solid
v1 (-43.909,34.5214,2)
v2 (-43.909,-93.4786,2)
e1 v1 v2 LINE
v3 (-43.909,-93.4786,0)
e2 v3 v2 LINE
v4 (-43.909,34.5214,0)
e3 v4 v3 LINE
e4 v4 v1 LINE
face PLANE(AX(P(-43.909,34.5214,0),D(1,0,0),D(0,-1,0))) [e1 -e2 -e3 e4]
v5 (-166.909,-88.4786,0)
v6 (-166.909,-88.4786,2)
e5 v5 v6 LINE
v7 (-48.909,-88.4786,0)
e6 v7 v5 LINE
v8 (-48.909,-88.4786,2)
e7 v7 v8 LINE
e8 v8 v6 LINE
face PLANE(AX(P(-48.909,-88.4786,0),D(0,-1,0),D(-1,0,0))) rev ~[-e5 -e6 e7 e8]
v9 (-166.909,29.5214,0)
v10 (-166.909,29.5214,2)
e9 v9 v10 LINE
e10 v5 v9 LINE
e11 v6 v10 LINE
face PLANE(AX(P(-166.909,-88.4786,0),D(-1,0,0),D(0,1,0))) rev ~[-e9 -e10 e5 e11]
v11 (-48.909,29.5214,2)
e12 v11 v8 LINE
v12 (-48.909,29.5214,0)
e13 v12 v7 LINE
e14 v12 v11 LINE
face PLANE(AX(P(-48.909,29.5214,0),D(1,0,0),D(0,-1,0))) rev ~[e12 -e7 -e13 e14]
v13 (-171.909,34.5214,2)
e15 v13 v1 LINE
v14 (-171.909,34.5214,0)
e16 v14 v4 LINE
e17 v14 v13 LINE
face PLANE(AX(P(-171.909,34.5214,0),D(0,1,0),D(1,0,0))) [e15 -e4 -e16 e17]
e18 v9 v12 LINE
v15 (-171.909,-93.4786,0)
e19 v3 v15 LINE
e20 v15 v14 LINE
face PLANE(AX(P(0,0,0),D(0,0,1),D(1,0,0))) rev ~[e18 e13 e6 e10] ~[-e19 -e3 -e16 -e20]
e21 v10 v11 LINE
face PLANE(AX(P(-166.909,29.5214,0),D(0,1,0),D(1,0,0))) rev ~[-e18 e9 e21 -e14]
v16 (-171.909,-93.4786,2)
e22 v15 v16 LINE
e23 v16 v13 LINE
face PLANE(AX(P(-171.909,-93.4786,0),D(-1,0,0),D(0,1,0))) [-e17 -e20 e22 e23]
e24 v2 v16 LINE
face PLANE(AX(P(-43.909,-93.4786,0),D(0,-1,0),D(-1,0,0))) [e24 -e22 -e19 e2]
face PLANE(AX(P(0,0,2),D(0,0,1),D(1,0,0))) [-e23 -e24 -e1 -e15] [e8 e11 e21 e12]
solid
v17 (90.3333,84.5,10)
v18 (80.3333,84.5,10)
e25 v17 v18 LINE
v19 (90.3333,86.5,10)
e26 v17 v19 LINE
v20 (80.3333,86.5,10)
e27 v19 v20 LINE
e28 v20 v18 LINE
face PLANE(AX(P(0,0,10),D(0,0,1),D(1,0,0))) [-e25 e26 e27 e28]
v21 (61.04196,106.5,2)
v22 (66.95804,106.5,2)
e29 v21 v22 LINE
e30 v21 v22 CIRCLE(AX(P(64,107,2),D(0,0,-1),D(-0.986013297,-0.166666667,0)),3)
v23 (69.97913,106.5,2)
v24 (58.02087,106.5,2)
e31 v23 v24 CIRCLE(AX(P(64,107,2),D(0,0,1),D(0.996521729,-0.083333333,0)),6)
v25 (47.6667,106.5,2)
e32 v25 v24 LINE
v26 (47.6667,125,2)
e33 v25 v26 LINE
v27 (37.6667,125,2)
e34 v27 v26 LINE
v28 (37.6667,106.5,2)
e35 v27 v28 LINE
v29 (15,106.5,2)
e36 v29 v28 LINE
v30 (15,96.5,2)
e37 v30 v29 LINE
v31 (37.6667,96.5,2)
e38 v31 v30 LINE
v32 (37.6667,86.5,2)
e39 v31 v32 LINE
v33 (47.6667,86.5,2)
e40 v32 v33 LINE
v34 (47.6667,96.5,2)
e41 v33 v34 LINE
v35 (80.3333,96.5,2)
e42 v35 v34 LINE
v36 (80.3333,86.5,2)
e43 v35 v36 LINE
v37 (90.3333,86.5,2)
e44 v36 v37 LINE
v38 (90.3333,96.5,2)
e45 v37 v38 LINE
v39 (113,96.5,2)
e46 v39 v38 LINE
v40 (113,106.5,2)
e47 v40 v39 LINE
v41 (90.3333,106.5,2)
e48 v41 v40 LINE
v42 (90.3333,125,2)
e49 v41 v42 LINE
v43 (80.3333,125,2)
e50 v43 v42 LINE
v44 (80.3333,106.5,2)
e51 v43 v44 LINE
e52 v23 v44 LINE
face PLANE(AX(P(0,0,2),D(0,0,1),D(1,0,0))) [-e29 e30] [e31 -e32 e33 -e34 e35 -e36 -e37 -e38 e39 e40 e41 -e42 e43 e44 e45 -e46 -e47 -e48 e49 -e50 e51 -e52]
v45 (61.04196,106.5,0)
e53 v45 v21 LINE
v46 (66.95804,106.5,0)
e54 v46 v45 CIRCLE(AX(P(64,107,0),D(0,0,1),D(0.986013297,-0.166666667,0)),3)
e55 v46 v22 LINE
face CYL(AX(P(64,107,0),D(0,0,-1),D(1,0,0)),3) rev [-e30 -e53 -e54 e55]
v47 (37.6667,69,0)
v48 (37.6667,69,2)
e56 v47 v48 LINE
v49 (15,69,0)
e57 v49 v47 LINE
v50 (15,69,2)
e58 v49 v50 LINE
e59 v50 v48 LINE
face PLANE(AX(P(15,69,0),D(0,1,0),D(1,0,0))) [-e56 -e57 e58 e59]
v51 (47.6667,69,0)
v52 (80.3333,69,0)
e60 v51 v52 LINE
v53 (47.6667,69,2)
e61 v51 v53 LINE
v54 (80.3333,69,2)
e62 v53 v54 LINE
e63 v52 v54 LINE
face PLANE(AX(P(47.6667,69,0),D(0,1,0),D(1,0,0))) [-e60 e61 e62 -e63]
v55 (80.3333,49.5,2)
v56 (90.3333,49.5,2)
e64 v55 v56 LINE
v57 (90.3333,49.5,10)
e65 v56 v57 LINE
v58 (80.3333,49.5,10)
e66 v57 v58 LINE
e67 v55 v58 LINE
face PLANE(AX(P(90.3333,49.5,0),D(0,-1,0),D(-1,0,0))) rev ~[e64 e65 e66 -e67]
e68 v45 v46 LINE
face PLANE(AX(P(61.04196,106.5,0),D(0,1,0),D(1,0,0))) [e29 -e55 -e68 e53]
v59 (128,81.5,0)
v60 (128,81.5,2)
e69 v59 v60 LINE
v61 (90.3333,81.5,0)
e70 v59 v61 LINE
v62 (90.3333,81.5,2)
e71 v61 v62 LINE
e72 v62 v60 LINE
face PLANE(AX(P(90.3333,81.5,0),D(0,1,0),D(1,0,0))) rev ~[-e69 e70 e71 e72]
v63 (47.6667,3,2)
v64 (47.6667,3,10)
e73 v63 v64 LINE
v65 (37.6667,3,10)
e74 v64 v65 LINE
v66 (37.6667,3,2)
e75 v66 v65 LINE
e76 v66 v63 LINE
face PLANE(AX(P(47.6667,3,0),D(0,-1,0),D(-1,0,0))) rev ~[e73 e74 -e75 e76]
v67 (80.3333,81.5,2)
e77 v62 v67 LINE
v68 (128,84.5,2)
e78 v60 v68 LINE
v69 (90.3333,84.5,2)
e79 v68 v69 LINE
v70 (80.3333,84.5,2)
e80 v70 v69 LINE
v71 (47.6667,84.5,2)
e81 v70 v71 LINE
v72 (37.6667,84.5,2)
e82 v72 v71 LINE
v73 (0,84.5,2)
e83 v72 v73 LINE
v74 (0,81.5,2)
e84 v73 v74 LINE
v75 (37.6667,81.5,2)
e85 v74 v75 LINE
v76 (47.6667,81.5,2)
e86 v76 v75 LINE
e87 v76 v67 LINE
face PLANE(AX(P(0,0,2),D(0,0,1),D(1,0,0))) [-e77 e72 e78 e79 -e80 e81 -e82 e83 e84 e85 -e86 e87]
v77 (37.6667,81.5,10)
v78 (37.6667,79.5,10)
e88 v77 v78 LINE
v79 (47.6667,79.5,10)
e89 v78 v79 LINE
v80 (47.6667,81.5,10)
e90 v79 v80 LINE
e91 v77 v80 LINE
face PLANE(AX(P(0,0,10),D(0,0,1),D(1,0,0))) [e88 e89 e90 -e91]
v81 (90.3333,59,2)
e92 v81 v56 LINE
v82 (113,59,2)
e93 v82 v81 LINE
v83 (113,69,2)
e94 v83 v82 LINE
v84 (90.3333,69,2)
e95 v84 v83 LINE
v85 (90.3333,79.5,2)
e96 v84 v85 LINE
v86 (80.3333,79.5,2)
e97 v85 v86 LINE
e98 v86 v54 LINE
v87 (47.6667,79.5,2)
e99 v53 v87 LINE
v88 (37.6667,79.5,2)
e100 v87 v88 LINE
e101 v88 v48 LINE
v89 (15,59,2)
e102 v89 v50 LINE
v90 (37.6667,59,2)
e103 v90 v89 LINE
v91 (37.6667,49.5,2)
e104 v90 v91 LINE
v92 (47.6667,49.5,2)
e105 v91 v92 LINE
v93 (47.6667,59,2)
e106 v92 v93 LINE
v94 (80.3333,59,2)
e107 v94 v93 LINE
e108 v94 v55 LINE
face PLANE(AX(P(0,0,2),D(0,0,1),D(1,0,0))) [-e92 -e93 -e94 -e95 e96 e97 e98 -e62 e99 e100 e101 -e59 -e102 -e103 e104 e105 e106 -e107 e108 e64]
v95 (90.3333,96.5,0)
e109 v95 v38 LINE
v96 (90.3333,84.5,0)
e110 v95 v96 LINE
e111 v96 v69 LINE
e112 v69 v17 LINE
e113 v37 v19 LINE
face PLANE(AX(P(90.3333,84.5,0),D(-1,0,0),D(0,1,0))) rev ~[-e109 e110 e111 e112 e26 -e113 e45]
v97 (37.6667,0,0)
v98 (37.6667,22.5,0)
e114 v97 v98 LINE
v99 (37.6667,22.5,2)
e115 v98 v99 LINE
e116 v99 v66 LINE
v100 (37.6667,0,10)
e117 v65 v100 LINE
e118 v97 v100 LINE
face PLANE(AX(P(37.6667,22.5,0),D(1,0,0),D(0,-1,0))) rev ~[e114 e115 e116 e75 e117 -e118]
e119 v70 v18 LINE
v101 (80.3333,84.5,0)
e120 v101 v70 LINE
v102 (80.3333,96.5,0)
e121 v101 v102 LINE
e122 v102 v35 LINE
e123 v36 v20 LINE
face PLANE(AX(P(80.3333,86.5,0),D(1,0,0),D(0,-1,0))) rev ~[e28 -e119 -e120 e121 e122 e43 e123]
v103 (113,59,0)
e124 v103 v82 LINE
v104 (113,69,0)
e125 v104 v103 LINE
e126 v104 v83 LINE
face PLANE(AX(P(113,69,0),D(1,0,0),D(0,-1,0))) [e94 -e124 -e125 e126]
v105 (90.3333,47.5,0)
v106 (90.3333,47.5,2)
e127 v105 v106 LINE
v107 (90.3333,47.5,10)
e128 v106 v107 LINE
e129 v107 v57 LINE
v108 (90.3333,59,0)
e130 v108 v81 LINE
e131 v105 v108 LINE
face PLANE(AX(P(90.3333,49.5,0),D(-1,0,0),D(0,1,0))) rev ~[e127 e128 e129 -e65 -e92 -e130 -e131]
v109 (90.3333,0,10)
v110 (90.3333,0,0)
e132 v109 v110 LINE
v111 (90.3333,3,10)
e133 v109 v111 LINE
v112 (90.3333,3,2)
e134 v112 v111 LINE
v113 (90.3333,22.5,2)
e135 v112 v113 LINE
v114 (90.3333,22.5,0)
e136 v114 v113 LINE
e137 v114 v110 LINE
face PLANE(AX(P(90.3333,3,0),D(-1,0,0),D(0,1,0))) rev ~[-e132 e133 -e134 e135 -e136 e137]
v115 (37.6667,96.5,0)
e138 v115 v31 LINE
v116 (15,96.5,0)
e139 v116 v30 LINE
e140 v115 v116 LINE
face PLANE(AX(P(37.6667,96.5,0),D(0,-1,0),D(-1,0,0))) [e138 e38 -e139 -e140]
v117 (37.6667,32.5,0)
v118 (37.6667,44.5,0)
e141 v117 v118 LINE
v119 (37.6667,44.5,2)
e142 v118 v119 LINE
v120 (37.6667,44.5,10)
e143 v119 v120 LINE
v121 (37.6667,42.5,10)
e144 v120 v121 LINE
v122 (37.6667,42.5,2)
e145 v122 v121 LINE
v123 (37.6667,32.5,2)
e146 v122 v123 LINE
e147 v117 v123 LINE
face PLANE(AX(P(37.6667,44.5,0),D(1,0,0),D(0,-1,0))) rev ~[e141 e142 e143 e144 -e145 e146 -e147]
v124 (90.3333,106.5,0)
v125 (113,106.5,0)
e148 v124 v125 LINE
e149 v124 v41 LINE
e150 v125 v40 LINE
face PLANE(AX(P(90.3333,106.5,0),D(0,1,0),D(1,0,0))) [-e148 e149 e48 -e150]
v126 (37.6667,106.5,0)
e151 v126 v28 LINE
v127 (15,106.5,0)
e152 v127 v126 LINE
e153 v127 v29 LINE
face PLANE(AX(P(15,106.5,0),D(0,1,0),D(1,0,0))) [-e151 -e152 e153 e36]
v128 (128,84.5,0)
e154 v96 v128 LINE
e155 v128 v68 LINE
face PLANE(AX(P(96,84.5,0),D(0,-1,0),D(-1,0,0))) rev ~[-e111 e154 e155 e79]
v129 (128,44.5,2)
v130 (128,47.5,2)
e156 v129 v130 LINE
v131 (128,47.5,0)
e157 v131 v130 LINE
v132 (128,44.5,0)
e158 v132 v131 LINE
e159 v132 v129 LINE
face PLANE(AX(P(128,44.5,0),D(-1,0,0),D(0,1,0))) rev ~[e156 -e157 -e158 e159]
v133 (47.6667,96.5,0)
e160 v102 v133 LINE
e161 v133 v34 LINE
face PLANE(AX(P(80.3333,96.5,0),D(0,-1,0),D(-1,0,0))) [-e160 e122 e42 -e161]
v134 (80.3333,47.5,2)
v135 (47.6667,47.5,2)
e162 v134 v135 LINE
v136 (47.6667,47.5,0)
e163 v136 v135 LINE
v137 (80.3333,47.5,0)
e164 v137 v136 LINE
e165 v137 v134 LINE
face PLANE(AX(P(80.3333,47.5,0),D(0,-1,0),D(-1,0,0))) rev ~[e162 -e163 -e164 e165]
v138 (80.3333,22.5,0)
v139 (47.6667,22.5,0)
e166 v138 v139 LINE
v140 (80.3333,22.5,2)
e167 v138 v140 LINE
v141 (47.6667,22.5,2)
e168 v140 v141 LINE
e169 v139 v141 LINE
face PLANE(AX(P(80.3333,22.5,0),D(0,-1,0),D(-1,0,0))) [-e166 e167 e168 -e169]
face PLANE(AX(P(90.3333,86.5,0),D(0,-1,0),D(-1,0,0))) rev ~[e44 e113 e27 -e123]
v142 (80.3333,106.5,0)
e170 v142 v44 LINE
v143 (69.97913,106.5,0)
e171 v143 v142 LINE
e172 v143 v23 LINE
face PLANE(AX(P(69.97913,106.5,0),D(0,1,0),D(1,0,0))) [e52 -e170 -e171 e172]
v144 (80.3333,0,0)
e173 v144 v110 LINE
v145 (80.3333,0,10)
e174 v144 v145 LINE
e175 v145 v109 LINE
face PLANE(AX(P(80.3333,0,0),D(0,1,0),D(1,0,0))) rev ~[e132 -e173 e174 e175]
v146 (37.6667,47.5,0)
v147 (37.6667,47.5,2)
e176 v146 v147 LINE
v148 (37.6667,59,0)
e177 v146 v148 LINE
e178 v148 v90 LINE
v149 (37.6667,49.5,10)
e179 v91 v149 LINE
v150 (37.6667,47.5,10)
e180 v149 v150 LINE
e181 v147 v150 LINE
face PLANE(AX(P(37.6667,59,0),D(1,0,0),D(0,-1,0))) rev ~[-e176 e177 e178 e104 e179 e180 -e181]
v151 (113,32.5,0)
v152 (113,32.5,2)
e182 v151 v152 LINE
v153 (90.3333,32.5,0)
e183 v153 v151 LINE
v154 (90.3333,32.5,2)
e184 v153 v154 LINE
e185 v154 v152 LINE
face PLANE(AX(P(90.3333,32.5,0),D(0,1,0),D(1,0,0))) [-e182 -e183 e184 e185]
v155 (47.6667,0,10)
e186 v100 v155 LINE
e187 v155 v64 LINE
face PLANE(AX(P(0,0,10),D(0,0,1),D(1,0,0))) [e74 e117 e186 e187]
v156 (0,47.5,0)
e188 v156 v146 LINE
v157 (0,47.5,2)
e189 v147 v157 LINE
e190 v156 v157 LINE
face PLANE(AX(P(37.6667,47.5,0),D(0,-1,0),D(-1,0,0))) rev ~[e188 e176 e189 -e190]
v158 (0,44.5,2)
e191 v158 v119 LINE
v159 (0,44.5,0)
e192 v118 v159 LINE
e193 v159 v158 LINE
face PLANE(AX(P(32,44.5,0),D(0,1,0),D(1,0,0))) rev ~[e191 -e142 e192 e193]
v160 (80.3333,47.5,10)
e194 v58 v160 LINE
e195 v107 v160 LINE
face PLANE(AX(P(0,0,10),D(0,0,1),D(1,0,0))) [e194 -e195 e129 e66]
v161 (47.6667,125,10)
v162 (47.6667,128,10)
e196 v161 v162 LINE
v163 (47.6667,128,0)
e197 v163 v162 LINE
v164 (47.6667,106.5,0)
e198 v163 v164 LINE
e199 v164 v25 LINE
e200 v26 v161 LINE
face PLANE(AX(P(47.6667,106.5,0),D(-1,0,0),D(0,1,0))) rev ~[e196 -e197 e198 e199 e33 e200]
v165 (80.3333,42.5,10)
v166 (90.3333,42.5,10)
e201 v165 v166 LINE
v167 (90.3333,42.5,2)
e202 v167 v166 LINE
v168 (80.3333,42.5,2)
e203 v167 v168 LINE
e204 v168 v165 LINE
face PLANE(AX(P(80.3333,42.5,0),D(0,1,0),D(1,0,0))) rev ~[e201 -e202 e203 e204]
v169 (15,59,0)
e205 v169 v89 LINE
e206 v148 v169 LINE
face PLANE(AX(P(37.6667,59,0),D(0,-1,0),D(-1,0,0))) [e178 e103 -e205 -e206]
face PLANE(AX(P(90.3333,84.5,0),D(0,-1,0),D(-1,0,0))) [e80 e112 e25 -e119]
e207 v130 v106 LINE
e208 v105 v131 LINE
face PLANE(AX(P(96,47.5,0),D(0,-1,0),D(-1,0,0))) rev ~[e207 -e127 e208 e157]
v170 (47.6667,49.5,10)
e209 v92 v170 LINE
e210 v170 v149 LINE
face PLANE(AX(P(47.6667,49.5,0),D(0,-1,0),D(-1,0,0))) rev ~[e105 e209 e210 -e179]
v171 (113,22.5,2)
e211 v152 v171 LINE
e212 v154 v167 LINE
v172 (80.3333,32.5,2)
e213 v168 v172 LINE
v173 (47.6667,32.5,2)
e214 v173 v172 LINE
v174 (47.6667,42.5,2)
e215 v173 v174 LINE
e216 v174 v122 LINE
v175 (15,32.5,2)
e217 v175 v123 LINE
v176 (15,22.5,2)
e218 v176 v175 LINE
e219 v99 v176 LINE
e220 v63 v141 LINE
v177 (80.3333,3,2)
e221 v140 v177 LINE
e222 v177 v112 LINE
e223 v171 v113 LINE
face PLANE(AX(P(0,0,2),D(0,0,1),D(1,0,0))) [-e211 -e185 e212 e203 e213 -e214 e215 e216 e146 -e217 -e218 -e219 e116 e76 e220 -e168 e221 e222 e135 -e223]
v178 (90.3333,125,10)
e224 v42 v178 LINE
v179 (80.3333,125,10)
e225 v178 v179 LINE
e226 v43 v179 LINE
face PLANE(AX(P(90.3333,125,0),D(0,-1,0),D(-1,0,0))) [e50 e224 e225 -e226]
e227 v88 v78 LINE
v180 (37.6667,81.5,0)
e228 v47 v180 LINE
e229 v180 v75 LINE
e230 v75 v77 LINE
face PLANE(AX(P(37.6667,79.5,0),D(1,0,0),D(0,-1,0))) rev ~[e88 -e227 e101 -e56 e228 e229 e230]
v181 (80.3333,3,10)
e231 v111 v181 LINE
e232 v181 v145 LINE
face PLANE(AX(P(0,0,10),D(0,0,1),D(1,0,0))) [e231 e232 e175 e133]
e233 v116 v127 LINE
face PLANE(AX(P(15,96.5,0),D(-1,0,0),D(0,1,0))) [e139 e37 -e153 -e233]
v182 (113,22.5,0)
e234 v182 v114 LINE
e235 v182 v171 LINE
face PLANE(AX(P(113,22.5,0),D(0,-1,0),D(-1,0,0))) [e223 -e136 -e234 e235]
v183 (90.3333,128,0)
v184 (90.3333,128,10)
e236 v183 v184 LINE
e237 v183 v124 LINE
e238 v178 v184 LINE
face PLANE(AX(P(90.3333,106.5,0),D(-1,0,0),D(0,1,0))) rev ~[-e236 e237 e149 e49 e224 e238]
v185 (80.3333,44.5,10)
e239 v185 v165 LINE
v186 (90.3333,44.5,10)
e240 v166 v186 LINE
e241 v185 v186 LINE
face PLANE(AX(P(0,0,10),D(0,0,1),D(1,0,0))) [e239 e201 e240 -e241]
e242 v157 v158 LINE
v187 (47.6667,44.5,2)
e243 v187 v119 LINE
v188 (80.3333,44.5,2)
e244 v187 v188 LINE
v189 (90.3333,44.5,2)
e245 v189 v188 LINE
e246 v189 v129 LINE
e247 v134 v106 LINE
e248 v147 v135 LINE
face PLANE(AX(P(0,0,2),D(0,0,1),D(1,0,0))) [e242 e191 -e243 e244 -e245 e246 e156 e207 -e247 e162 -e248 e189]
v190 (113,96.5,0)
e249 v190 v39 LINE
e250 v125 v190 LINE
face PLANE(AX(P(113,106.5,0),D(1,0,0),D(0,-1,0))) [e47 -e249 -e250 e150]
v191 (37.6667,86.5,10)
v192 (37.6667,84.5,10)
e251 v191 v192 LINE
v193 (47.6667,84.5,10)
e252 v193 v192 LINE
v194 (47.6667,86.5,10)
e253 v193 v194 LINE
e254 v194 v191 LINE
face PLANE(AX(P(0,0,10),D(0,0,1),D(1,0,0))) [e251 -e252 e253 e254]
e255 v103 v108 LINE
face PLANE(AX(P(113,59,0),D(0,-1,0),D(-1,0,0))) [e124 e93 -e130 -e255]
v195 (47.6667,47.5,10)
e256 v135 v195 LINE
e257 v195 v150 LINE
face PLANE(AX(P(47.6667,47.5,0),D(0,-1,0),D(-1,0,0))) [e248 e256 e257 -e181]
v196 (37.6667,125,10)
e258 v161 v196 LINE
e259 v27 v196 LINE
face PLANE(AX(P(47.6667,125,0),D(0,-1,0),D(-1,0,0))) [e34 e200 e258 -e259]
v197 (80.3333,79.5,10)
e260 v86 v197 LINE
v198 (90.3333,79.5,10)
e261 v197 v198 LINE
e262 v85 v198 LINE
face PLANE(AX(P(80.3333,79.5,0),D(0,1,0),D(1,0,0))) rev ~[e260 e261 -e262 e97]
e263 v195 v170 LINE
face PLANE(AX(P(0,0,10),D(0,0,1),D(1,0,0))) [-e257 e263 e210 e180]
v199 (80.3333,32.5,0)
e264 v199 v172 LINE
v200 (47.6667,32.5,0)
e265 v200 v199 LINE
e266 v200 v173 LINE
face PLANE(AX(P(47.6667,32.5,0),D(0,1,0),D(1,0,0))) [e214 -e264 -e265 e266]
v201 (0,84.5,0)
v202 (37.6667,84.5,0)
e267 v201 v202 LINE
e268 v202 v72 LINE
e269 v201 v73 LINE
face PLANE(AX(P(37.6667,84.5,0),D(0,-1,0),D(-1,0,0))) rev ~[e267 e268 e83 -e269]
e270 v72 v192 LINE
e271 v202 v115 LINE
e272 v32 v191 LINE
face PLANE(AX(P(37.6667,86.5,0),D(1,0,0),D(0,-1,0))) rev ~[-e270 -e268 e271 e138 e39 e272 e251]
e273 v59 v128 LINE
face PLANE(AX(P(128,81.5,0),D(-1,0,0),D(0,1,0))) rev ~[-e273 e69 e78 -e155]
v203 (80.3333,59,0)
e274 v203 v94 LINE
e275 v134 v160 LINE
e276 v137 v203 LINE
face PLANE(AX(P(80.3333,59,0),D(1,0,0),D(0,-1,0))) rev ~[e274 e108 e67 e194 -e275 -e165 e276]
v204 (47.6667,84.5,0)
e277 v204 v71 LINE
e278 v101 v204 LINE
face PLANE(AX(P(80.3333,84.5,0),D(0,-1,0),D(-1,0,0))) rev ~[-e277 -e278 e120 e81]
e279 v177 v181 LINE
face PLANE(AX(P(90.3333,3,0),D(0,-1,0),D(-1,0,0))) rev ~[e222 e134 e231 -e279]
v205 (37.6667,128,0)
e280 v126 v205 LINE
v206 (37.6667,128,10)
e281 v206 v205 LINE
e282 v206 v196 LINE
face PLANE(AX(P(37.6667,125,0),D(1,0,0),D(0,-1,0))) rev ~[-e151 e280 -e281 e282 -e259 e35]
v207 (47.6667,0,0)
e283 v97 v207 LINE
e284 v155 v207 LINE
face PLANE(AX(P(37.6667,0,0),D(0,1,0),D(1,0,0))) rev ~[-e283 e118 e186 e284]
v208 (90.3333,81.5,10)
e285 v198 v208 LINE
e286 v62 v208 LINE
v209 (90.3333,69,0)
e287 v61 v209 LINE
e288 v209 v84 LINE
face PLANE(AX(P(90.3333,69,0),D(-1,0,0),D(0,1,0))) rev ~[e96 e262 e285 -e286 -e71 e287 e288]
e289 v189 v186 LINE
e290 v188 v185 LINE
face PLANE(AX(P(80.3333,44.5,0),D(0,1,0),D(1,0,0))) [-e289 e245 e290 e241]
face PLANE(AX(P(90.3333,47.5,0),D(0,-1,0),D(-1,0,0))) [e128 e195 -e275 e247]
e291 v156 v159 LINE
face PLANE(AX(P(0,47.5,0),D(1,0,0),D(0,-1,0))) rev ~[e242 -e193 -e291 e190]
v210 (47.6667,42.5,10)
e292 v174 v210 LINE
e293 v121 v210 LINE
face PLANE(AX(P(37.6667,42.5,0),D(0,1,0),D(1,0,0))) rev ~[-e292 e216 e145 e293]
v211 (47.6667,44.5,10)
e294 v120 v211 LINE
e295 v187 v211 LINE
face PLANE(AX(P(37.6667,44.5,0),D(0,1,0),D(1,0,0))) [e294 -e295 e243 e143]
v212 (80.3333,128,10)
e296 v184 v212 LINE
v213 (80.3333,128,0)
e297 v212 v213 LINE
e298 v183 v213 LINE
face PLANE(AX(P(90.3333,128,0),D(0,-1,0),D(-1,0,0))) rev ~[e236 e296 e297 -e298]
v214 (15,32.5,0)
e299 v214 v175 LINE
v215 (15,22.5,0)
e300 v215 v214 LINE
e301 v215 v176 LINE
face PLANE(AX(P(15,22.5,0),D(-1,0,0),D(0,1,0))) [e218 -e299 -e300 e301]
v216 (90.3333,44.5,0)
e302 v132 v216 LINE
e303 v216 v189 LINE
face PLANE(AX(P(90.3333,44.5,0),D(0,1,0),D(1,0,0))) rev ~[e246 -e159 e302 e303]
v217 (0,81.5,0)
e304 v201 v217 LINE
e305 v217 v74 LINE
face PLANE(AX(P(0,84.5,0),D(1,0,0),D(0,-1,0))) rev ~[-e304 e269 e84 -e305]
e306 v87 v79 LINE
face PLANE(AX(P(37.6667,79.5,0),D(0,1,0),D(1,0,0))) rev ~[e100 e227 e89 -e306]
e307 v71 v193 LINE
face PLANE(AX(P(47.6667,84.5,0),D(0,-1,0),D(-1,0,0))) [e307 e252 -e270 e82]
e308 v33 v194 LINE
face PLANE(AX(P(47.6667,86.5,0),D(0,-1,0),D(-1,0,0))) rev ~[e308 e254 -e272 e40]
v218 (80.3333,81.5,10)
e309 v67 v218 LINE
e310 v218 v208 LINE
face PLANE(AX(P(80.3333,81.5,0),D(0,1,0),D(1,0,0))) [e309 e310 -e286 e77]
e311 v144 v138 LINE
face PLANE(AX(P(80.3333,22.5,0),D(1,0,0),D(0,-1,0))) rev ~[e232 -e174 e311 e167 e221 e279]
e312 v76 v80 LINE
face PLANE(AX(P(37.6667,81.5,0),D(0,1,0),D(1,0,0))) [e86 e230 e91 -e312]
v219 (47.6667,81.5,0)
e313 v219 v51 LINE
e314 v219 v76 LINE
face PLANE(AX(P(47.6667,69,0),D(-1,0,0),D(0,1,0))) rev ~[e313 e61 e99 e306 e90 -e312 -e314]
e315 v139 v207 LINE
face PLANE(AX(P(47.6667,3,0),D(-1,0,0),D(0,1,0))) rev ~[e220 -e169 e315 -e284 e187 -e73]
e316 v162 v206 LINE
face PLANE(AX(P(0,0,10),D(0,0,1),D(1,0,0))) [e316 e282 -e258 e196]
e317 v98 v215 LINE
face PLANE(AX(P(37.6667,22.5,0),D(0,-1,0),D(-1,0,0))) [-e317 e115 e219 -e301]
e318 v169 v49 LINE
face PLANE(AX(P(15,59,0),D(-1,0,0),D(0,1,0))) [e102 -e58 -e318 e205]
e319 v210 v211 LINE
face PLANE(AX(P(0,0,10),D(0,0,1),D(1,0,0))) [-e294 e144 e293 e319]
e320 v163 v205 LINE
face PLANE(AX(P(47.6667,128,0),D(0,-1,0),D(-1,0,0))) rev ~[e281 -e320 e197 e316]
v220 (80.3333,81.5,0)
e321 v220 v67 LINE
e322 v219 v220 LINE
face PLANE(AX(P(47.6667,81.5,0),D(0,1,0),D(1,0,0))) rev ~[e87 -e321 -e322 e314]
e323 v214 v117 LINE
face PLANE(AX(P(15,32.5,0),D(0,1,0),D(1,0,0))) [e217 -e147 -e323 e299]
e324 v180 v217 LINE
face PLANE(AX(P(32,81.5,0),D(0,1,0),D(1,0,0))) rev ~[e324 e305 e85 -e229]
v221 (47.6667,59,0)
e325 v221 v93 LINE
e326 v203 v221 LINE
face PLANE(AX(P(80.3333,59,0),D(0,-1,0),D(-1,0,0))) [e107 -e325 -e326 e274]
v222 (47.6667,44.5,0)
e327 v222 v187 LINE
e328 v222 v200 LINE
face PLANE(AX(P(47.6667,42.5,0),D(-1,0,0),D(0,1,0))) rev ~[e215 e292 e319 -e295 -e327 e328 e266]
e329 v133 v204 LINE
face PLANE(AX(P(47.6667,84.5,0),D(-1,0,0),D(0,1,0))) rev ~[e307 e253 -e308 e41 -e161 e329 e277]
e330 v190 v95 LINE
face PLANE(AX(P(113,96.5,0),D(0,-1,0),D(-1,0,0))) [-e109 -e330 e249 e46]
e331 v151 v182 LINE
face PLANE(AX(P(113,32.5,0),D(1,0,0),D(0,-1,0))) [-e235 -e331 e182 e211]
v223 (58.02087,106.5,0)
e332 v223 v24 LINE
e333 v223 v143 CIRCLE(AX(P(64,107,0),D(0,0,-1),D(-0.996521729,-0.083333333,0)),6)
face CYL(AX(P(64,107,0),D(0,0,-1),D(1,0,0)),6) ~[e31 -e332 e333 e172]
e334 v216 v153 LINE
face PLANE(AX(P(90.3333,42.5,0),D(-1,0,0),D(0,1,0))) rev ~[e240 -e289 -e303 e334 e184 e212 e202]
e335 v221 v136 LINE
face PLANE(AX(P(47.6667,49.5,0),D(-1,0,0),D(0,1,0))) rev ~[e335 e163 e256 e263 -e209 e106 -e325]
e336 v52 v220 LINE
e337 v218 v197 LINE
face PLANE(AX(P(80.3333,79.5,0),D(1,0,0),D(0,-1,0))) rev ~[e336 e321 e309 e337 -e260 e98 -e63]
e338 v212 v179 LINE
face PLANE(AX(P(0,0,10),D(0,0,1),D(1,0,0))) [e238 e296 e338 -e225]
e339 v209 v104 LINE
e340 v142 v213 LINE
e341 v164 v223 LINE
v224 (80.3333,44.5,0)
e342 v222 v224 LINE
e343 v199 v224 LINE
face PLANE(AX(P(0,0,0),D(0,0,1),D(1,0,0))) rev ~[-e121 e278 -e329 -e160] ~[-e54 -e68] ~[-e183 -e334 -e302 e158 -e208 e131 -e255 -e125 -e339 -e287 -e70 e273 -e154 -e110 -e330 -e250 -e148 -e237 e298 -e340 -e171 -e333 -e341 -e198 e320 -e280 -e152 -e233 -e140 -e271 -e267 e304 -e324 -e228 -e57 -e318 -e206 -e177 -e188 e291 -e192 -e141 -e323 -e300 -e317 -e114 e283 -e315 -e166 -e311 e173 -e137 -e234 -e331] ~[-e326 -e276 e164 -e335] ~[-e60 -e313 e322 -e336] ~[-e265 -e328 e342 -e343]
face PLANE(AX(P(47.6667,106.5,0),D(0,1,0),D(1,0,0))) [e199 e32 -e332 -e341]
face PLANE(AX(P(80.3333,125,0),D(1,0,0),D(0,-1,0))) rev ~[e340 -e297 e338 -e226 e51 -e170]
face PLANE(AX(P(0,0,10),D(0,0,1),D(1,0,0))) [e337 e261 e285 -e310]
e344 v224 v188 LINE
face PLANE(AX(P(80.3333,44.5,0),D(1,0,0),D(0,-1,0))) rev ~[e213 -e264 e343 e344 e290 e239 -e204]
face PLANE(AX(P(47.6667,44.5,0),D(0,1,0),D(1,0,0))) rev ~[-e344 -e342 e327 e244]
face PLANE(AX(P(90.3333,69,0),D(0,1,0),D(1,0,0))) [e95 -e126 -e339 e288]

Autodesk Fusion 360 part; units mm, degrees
sketch "Sketch1" plane through (0, 0, 0) normal (0, 0, 1) x (1, 0, 0)
  line L0 (0, 0) -> (128, 0) construction
  line L1 (128, 0) -> (128, 128) construction
  line L2 (128, 128) -> (0, 128) construction
  line L3 (0, 128) -> (0, 0) construction
  line L4 (0, 64) -> (128, 64) construction
  line L5 (64, 128) -> (64, 0) construction
  line L6 (42.6667, 128) -> (42.6667, 0) construction
  line L7 (85.3333, 128) -> (85.3333, 0) construction
  line L8 (128, 101.5) -> (0, 101.5) construction
  line L9 (128, 27.5) -> (0, 27.5) construction
  line L10 (113, 59) -> (15, 59)
  line L11 (15, 59) -> (15, 69)
  line L12 (15, 69) -> (113, 69)
  line L13 (113, 69) -> (113, 59)
  line L14 (113, 59) -> (15, 69) construction
  line L15 (15, 59) -> (113, 69) construction
  line L16 (113, 96.5) -> (15, 96.5)
  line L17 (15, 96.5) -> (15, 106.5)
  line L18 (15, 106.5) -> (113, 106.5)
  line L19 (113, 106.5) -> (113, 96.5)
  line L20 (113, 96.5) -> (15, 106.5) construction
  line L21 (15, 96.5) -> (113, 106.5) construction
  line L22 (113, 22.5) -> (15, 22.5)
  line L23 (15, 22.5) -> (15, 32.5)
  line L24 (15, 32.5) -> (113, 32.5)
  line L25 (113, 32.5) -> (113, 22.5)
  line L26 (113, 22.5) -> (15, 32.5) construction
  line L27 (15, 22.5) -> (113, 32.5) construction
  line L28 (37.6667, 0) -> (47.6667, 0)
  line L29 (47.6667, 0) -> (47.6667, 128)
  line L30 (47.6667, 128) -> (37.6667, 128)
  line L31 (37.6667, 128) -> (37.6667, 0)
  line L32 (37.6667, 0) -> (47.6667, 128) construction
  line L33 (47.6667, 0) -> (37.6667, 128) construction
  line L34 (80.3333, 0) -> (90.3333, 0)
  line L35 (90.3333, 0) -> (90.3333, 128)
  line L36 (90.3333, 128) -> (80.3333, 128)
  line L37 (80.3333, 128) -> (80.3333, 0)
  line L38 (80.3333, 0) -> (90.3333, 128) construction
  line L39 (90.3333, 0) -> (80.3333, 128) construction
  line L40 (0, 83) -> (128, 83) construction
  line L41 (128, 46) -> (0, 46) construction
  line L42 (0, 44.5) -> (128, 44.5)
  line L43 (128, 44.5) -> (128, 47.5)
  line L44 (128, 47.5) -> (0, 47.5)
  line L45 (0, 47.5) -> (0, 44.5)
  line L46 (0, 44.5) -> (128, 47.5) construction
  line L47 (128, 44.5) -> (0, 47.5) construction
  line L48 (0, 81.5) -> (128, 81.5)
  line L49 (128, 81.5) -> (128, 84.5)
  line L50 (128, 84.5) -> (0, 84.5)
  line L51 (0, 84.5) -> (0, 81.5)
  line L52 (0, 81.5) -> (128, 84.5) construction
  line L53 (128, 81.5) -> (0, 84.5) construction
  line L54 (32, 79.5) -> (96, 79.5)
  line L55 (96, 79.5) -> (96, 86.5)
  line L56 (96, 86.5) -> (32, 86.5)
  line L57 (32, 86.5) -> (32, 79.5)
  line L58 (32, 79.5) -> (96, 86.5) construction
  line L59 (96, 79.5) -> (32, 86.5) construction
  line L60 (32, 42.5) -> (96, 42.5)
  line L61 (96, 42.5) -> (96, 49.5)
  line L62 (96, 49.5) -> (32, 49.5)
  line L63 (32, 49.5) -> (32, 42.5)
  line L64 (32, 42.5) -> (96, 49.5) construction
  line L65 (96, 42.5) -> (32, 49.5) construction
  circle A0 centre (64, 107) radius 3
  line L66 (80.3333, 128) -> (47.6667, 128)
  line L67 (47.6667, 128) -> (47.6667, 106.5)
  line L68 (47.6667, 106.5) -> (80.3333, 106.5)
  line L69 (80.3333, 106.5) -> (80.3333, 128)
  circle A1 centre (64, 107) radius 6
  line L70 (37.6667, 128) -> (47.6667, 128)
  line L71 (47.6667, 128) -> (47.6667, 125)
  line L72 (47.6667, 125) -> (37.6667, 125)
  line L73 (37.6667, 125) -> (37.6667, 128)
  line L74 (80.3333, 128) -> (90.3333, 128)
  line L75 (90.3333, 128) -> (90.3333, 125)
  line L76 (90.3333, 125) -> (80.3333, 125)
  line L77 (80.3333, 125) -> (80.3333, 128)
  line L78 (37.6667, 0) -> (47.6667, 0)
  line L79 (47.6667, 0) -> (47.6667, 3)
  line L80 (47.6667, 3) -> (37.6667, 3)
  line L81 (37.6667, 3) -> (37.6667, 0)
  line L82 (80.3333, 0) -> (90.3333, 0)
  line L83 (90.3333, 0) -> (90.3333, 3)
  line L84 (90.3333, 3) -> (80.3333, 3)
  line L85 (80.3333, 3) -> (80.3333, 0)
  point P0 (64, 64)
  point P1 (64, 101.5)
  point P2 (64, 27.5)
  point P3 (42.6667, 64)
  point P4 (85.3333, 64)
  point P5 (64, 46)
  point P6 (64, 83)
  point P7 (64, 83)
  point P8 (64, 46)
  dimension "d22" = 128
  dimension "d23" = 128
  dimension "d24" = 42.6667
  dimension "d25" = 42.6667
  dimension "d30" = 26.5
  dimension "d32" = 100.5
  dimension "d33" = 98
  dimension "d34" = 10
  dimension "d35" = 98
  dimension "d36" = 10
  dimension "d37" = 98
  dimension "d38" = 10
  dimension "d54" = 10
  dimension "d55" = 128
  dimension "d56" = 10
  dimension "d57" = 128
  dimension "d58" = 45
  dimension "d59" = 82
  dimension "d60" = 128
  dimension "d61" = 3
  dimension "d62" = 128
  dimension "d63" = 3
  dimension "d68" = 64
  dimension "d69" = 7
  dimension "d70" = 64
  dimension "d71" = 7
  dimension "d80" = 6
  dimension "d81" = 21
  dimension "d82" = 12
  dimension "d83" = 10
  dimension "d84" = 3
  dimension "d85" = 10
  dimension "d86" = 3
  dimension "d87" = 10
  dimension "d88" = 3
  dimension "d89" = 10
  dimension "d90" = 3
extrude "Extrude5" add sketch "Sketch1" along normal blind 2 contours L10 L12 L13 L35 | L10 L35 L37 L62 | L10 L12 L35 L37 | L10 L12 L29 L37 | L35 L37 L44 L62 | L12 L35 L37 L54 | L10 L29 L31 L62 | L10 L12 L29 L31 | L35 L42 L44 L61 | L35 L37 L42 L44 | L35 L37 L48 L54 | L10 L11 L12 L31 | L29 L31 L44 L62 | L12 L29 L31 L54 | L29 L37 L42 L44 | L35 L37 L42 L60 | L42 L43 L44 L61 | L35 L37 L48 L50 | L35 L48 L50 L55 | L29 L31 L42 L44 | L29 L31 L48 L54 | L29 L37 L48 L50 | L24 L35 L37 L60 | L35 L37 L50 L56 | L48 L49 L50 L55 | L31 L42 L44 L63 | L29 L31 L42 L60 | L29 L31 L48 L50 | L22 L24 L35 L37 | L22 L24 L25 L35 | L16 L35 L37 L56 | L31 L48 L50 L57 | L42 L44 L45 L63 | L24 L29 L31 L60 | L29 L31 L50 L56 | L22 L24 L29 L37 | L22 L35 L37 L84 | L16 L18 L19 L35 | L16 L18 L35 L37 | L48 L50 L51 L57 | L22 L24 L29 L31 | L16 L29 L31 L56 | L16 L18 L29 L37 L68 A1 | L34 L35 L37 L82 L83 L84 L85 | L18 L35 L37 L69 L76 | L22 L23 L24 L31 | L22 L29 L31 L80 | L16 L18 L29 L31 | L35 L36 L37 L69 L74 L75 L76 L77 | L16 L17 L18 L31 | L28 L29 L31 L78 L79 L80 L81 | L18 L29 L31 L67 L72 | L18 A0 L68 A1 | L18 A0 L68 A1 | L29 L30 L31 L67 L70 L71 L72 L73 | L18 A0 L68 picked at (64.2198, 105.6911) makes body 1
extrude "Extrude6" add sketch "Sketch1" along normal blind 10 contours L35 L37 L44 L62 | L35 L37 L48 L54 | L29 L31 L44 L62 | L35 L37 L42 L60 | L29 L31 L48 L54 | L35 L37 L50 L56 | L29 L31 L42 L60 | L29 L31 L50 L56 bodies 1
extrude "Extrude7" add sketch "Sketch1" along normal blind 10 contours L34 L35 L37 L82 L83 L84 L85 | L35 L36 L37 L69 L74 L75 L76 L77 | L28 L29 L31 L78 L79 L80 L81 | L29 L30 L31 L67 L70 L71 L72 L73 bodies 1
sketch "Sketch2" plane through (0, 0, 0) normal (0, 0, 1) x (1, 0, 0)
  line L0 (-43.909, -93.4786) -> (-171.909, -93.4786)
  line L1 (-171.909, -93.4786) -> (-171.909, 34.5214)
  line L2 (-171.909, 34.5214) -> (-43.909, 34.5214)
  line L3 (-43.909, 34.5214) -> (-43.909, -93.4786)
  line L4 (-43.909, -93.4786) -> (-171.909, 34.5214) construction
  line L5 (-171.909, -93.4786) -> (-43.909, 34.5214) construction
  line L6 (-48.909, -88.4786) -> (-166.909, -88.4786)
  line L7 (-166.909, -88.4786) -> (-166.909, 29.5214)
  line L8 (-166.909, 29.5214) -> (-48.909, 29.5214)
  line L9 (-48.909, 29.5214) -> (-48.909, -88.4786)
  line L10 (-48.909, -88.4786) -> (-166.909, 29.5214) construction
  line L11 (-166.909, -88.4786) -> (-48.909, 29.5214) construction
  point P0 (-107.909, -29.4786)
  point P1 (-107.909, -29.4786)
  dimension "d93" = 128
  dimension "d94" = 128
  dimension "d95" = 118
  dimension "d96" = 118
extrude "Extrude8" add sketch "Sketch2" along normal blind 2 separate body makes body 2
equation "BoxInner = 128 mm"
equation "RailWidth = 10 mm"
equation "RailSeparation = ( BoxInner - ( RailWidth * 2 ) ) / 3"
equation "LedLength = 98 mm"
equation "PanelThickness = 3 mm"
equation "d22 = BoxInner"
equation "d23 = BoxInner"
equation "d24 = BoxInner / 3"
equation "d25 = BoxInner / 3"
equation "d30 = R_Horizontal"
equation "d32 = P_Horizontal"
equation "d33 = LedLength"
equation "d34 = RailWidth"
equation "d35 = LedLength"
equation "d36 = RailWidth"
equation "d37 = LedLength"
equation "d38 = RailWidth"
equation "RailEdge = 2 mm"
equation "Thickness = 2 mm"
equation "Depth = 59 mm"
equation "d54 = RailWidth"
equation "d55 = BoxInner"
equation "d56 = RailWidth"
equation "d57 = BoxInner"
equation "d58 = RM_Horizontal"
equation "d59 = MP_Horizontal"
equation "d60 = BoxInner"
equation "d61 = PanelThickness"
equation "d62 = BoxInner"
equation "d63 = PanelThickness"
equation "d68 = BoxInner / 2"
equation "d69 = PanelThickness + RailEdge * 2"
equation "d70 = BoxInner / 2"
equation "d71 = PanelThickness + RailEdge * 2"
equation "d72 = Thickness"
equation "d74 = Thickness * 5"
equation "R_Horizontal = 26.5 mm"
equation "RM_Horizontal = 45 mm"
equation "MP_Horizontal = 82 mm"
equation "P_Horizontal = 100.5 mm"
equation "d83 = RailWidth"
equation "d84 = PanelThickness"
equation "d85 = RailWidth"
equation "d86 = PanelThickness"
equation "d87 = RailWidth"
equation "d88 = PanelThickness"
equation "d89 = RailWidth"
equation "d90 = PanelThickness"
